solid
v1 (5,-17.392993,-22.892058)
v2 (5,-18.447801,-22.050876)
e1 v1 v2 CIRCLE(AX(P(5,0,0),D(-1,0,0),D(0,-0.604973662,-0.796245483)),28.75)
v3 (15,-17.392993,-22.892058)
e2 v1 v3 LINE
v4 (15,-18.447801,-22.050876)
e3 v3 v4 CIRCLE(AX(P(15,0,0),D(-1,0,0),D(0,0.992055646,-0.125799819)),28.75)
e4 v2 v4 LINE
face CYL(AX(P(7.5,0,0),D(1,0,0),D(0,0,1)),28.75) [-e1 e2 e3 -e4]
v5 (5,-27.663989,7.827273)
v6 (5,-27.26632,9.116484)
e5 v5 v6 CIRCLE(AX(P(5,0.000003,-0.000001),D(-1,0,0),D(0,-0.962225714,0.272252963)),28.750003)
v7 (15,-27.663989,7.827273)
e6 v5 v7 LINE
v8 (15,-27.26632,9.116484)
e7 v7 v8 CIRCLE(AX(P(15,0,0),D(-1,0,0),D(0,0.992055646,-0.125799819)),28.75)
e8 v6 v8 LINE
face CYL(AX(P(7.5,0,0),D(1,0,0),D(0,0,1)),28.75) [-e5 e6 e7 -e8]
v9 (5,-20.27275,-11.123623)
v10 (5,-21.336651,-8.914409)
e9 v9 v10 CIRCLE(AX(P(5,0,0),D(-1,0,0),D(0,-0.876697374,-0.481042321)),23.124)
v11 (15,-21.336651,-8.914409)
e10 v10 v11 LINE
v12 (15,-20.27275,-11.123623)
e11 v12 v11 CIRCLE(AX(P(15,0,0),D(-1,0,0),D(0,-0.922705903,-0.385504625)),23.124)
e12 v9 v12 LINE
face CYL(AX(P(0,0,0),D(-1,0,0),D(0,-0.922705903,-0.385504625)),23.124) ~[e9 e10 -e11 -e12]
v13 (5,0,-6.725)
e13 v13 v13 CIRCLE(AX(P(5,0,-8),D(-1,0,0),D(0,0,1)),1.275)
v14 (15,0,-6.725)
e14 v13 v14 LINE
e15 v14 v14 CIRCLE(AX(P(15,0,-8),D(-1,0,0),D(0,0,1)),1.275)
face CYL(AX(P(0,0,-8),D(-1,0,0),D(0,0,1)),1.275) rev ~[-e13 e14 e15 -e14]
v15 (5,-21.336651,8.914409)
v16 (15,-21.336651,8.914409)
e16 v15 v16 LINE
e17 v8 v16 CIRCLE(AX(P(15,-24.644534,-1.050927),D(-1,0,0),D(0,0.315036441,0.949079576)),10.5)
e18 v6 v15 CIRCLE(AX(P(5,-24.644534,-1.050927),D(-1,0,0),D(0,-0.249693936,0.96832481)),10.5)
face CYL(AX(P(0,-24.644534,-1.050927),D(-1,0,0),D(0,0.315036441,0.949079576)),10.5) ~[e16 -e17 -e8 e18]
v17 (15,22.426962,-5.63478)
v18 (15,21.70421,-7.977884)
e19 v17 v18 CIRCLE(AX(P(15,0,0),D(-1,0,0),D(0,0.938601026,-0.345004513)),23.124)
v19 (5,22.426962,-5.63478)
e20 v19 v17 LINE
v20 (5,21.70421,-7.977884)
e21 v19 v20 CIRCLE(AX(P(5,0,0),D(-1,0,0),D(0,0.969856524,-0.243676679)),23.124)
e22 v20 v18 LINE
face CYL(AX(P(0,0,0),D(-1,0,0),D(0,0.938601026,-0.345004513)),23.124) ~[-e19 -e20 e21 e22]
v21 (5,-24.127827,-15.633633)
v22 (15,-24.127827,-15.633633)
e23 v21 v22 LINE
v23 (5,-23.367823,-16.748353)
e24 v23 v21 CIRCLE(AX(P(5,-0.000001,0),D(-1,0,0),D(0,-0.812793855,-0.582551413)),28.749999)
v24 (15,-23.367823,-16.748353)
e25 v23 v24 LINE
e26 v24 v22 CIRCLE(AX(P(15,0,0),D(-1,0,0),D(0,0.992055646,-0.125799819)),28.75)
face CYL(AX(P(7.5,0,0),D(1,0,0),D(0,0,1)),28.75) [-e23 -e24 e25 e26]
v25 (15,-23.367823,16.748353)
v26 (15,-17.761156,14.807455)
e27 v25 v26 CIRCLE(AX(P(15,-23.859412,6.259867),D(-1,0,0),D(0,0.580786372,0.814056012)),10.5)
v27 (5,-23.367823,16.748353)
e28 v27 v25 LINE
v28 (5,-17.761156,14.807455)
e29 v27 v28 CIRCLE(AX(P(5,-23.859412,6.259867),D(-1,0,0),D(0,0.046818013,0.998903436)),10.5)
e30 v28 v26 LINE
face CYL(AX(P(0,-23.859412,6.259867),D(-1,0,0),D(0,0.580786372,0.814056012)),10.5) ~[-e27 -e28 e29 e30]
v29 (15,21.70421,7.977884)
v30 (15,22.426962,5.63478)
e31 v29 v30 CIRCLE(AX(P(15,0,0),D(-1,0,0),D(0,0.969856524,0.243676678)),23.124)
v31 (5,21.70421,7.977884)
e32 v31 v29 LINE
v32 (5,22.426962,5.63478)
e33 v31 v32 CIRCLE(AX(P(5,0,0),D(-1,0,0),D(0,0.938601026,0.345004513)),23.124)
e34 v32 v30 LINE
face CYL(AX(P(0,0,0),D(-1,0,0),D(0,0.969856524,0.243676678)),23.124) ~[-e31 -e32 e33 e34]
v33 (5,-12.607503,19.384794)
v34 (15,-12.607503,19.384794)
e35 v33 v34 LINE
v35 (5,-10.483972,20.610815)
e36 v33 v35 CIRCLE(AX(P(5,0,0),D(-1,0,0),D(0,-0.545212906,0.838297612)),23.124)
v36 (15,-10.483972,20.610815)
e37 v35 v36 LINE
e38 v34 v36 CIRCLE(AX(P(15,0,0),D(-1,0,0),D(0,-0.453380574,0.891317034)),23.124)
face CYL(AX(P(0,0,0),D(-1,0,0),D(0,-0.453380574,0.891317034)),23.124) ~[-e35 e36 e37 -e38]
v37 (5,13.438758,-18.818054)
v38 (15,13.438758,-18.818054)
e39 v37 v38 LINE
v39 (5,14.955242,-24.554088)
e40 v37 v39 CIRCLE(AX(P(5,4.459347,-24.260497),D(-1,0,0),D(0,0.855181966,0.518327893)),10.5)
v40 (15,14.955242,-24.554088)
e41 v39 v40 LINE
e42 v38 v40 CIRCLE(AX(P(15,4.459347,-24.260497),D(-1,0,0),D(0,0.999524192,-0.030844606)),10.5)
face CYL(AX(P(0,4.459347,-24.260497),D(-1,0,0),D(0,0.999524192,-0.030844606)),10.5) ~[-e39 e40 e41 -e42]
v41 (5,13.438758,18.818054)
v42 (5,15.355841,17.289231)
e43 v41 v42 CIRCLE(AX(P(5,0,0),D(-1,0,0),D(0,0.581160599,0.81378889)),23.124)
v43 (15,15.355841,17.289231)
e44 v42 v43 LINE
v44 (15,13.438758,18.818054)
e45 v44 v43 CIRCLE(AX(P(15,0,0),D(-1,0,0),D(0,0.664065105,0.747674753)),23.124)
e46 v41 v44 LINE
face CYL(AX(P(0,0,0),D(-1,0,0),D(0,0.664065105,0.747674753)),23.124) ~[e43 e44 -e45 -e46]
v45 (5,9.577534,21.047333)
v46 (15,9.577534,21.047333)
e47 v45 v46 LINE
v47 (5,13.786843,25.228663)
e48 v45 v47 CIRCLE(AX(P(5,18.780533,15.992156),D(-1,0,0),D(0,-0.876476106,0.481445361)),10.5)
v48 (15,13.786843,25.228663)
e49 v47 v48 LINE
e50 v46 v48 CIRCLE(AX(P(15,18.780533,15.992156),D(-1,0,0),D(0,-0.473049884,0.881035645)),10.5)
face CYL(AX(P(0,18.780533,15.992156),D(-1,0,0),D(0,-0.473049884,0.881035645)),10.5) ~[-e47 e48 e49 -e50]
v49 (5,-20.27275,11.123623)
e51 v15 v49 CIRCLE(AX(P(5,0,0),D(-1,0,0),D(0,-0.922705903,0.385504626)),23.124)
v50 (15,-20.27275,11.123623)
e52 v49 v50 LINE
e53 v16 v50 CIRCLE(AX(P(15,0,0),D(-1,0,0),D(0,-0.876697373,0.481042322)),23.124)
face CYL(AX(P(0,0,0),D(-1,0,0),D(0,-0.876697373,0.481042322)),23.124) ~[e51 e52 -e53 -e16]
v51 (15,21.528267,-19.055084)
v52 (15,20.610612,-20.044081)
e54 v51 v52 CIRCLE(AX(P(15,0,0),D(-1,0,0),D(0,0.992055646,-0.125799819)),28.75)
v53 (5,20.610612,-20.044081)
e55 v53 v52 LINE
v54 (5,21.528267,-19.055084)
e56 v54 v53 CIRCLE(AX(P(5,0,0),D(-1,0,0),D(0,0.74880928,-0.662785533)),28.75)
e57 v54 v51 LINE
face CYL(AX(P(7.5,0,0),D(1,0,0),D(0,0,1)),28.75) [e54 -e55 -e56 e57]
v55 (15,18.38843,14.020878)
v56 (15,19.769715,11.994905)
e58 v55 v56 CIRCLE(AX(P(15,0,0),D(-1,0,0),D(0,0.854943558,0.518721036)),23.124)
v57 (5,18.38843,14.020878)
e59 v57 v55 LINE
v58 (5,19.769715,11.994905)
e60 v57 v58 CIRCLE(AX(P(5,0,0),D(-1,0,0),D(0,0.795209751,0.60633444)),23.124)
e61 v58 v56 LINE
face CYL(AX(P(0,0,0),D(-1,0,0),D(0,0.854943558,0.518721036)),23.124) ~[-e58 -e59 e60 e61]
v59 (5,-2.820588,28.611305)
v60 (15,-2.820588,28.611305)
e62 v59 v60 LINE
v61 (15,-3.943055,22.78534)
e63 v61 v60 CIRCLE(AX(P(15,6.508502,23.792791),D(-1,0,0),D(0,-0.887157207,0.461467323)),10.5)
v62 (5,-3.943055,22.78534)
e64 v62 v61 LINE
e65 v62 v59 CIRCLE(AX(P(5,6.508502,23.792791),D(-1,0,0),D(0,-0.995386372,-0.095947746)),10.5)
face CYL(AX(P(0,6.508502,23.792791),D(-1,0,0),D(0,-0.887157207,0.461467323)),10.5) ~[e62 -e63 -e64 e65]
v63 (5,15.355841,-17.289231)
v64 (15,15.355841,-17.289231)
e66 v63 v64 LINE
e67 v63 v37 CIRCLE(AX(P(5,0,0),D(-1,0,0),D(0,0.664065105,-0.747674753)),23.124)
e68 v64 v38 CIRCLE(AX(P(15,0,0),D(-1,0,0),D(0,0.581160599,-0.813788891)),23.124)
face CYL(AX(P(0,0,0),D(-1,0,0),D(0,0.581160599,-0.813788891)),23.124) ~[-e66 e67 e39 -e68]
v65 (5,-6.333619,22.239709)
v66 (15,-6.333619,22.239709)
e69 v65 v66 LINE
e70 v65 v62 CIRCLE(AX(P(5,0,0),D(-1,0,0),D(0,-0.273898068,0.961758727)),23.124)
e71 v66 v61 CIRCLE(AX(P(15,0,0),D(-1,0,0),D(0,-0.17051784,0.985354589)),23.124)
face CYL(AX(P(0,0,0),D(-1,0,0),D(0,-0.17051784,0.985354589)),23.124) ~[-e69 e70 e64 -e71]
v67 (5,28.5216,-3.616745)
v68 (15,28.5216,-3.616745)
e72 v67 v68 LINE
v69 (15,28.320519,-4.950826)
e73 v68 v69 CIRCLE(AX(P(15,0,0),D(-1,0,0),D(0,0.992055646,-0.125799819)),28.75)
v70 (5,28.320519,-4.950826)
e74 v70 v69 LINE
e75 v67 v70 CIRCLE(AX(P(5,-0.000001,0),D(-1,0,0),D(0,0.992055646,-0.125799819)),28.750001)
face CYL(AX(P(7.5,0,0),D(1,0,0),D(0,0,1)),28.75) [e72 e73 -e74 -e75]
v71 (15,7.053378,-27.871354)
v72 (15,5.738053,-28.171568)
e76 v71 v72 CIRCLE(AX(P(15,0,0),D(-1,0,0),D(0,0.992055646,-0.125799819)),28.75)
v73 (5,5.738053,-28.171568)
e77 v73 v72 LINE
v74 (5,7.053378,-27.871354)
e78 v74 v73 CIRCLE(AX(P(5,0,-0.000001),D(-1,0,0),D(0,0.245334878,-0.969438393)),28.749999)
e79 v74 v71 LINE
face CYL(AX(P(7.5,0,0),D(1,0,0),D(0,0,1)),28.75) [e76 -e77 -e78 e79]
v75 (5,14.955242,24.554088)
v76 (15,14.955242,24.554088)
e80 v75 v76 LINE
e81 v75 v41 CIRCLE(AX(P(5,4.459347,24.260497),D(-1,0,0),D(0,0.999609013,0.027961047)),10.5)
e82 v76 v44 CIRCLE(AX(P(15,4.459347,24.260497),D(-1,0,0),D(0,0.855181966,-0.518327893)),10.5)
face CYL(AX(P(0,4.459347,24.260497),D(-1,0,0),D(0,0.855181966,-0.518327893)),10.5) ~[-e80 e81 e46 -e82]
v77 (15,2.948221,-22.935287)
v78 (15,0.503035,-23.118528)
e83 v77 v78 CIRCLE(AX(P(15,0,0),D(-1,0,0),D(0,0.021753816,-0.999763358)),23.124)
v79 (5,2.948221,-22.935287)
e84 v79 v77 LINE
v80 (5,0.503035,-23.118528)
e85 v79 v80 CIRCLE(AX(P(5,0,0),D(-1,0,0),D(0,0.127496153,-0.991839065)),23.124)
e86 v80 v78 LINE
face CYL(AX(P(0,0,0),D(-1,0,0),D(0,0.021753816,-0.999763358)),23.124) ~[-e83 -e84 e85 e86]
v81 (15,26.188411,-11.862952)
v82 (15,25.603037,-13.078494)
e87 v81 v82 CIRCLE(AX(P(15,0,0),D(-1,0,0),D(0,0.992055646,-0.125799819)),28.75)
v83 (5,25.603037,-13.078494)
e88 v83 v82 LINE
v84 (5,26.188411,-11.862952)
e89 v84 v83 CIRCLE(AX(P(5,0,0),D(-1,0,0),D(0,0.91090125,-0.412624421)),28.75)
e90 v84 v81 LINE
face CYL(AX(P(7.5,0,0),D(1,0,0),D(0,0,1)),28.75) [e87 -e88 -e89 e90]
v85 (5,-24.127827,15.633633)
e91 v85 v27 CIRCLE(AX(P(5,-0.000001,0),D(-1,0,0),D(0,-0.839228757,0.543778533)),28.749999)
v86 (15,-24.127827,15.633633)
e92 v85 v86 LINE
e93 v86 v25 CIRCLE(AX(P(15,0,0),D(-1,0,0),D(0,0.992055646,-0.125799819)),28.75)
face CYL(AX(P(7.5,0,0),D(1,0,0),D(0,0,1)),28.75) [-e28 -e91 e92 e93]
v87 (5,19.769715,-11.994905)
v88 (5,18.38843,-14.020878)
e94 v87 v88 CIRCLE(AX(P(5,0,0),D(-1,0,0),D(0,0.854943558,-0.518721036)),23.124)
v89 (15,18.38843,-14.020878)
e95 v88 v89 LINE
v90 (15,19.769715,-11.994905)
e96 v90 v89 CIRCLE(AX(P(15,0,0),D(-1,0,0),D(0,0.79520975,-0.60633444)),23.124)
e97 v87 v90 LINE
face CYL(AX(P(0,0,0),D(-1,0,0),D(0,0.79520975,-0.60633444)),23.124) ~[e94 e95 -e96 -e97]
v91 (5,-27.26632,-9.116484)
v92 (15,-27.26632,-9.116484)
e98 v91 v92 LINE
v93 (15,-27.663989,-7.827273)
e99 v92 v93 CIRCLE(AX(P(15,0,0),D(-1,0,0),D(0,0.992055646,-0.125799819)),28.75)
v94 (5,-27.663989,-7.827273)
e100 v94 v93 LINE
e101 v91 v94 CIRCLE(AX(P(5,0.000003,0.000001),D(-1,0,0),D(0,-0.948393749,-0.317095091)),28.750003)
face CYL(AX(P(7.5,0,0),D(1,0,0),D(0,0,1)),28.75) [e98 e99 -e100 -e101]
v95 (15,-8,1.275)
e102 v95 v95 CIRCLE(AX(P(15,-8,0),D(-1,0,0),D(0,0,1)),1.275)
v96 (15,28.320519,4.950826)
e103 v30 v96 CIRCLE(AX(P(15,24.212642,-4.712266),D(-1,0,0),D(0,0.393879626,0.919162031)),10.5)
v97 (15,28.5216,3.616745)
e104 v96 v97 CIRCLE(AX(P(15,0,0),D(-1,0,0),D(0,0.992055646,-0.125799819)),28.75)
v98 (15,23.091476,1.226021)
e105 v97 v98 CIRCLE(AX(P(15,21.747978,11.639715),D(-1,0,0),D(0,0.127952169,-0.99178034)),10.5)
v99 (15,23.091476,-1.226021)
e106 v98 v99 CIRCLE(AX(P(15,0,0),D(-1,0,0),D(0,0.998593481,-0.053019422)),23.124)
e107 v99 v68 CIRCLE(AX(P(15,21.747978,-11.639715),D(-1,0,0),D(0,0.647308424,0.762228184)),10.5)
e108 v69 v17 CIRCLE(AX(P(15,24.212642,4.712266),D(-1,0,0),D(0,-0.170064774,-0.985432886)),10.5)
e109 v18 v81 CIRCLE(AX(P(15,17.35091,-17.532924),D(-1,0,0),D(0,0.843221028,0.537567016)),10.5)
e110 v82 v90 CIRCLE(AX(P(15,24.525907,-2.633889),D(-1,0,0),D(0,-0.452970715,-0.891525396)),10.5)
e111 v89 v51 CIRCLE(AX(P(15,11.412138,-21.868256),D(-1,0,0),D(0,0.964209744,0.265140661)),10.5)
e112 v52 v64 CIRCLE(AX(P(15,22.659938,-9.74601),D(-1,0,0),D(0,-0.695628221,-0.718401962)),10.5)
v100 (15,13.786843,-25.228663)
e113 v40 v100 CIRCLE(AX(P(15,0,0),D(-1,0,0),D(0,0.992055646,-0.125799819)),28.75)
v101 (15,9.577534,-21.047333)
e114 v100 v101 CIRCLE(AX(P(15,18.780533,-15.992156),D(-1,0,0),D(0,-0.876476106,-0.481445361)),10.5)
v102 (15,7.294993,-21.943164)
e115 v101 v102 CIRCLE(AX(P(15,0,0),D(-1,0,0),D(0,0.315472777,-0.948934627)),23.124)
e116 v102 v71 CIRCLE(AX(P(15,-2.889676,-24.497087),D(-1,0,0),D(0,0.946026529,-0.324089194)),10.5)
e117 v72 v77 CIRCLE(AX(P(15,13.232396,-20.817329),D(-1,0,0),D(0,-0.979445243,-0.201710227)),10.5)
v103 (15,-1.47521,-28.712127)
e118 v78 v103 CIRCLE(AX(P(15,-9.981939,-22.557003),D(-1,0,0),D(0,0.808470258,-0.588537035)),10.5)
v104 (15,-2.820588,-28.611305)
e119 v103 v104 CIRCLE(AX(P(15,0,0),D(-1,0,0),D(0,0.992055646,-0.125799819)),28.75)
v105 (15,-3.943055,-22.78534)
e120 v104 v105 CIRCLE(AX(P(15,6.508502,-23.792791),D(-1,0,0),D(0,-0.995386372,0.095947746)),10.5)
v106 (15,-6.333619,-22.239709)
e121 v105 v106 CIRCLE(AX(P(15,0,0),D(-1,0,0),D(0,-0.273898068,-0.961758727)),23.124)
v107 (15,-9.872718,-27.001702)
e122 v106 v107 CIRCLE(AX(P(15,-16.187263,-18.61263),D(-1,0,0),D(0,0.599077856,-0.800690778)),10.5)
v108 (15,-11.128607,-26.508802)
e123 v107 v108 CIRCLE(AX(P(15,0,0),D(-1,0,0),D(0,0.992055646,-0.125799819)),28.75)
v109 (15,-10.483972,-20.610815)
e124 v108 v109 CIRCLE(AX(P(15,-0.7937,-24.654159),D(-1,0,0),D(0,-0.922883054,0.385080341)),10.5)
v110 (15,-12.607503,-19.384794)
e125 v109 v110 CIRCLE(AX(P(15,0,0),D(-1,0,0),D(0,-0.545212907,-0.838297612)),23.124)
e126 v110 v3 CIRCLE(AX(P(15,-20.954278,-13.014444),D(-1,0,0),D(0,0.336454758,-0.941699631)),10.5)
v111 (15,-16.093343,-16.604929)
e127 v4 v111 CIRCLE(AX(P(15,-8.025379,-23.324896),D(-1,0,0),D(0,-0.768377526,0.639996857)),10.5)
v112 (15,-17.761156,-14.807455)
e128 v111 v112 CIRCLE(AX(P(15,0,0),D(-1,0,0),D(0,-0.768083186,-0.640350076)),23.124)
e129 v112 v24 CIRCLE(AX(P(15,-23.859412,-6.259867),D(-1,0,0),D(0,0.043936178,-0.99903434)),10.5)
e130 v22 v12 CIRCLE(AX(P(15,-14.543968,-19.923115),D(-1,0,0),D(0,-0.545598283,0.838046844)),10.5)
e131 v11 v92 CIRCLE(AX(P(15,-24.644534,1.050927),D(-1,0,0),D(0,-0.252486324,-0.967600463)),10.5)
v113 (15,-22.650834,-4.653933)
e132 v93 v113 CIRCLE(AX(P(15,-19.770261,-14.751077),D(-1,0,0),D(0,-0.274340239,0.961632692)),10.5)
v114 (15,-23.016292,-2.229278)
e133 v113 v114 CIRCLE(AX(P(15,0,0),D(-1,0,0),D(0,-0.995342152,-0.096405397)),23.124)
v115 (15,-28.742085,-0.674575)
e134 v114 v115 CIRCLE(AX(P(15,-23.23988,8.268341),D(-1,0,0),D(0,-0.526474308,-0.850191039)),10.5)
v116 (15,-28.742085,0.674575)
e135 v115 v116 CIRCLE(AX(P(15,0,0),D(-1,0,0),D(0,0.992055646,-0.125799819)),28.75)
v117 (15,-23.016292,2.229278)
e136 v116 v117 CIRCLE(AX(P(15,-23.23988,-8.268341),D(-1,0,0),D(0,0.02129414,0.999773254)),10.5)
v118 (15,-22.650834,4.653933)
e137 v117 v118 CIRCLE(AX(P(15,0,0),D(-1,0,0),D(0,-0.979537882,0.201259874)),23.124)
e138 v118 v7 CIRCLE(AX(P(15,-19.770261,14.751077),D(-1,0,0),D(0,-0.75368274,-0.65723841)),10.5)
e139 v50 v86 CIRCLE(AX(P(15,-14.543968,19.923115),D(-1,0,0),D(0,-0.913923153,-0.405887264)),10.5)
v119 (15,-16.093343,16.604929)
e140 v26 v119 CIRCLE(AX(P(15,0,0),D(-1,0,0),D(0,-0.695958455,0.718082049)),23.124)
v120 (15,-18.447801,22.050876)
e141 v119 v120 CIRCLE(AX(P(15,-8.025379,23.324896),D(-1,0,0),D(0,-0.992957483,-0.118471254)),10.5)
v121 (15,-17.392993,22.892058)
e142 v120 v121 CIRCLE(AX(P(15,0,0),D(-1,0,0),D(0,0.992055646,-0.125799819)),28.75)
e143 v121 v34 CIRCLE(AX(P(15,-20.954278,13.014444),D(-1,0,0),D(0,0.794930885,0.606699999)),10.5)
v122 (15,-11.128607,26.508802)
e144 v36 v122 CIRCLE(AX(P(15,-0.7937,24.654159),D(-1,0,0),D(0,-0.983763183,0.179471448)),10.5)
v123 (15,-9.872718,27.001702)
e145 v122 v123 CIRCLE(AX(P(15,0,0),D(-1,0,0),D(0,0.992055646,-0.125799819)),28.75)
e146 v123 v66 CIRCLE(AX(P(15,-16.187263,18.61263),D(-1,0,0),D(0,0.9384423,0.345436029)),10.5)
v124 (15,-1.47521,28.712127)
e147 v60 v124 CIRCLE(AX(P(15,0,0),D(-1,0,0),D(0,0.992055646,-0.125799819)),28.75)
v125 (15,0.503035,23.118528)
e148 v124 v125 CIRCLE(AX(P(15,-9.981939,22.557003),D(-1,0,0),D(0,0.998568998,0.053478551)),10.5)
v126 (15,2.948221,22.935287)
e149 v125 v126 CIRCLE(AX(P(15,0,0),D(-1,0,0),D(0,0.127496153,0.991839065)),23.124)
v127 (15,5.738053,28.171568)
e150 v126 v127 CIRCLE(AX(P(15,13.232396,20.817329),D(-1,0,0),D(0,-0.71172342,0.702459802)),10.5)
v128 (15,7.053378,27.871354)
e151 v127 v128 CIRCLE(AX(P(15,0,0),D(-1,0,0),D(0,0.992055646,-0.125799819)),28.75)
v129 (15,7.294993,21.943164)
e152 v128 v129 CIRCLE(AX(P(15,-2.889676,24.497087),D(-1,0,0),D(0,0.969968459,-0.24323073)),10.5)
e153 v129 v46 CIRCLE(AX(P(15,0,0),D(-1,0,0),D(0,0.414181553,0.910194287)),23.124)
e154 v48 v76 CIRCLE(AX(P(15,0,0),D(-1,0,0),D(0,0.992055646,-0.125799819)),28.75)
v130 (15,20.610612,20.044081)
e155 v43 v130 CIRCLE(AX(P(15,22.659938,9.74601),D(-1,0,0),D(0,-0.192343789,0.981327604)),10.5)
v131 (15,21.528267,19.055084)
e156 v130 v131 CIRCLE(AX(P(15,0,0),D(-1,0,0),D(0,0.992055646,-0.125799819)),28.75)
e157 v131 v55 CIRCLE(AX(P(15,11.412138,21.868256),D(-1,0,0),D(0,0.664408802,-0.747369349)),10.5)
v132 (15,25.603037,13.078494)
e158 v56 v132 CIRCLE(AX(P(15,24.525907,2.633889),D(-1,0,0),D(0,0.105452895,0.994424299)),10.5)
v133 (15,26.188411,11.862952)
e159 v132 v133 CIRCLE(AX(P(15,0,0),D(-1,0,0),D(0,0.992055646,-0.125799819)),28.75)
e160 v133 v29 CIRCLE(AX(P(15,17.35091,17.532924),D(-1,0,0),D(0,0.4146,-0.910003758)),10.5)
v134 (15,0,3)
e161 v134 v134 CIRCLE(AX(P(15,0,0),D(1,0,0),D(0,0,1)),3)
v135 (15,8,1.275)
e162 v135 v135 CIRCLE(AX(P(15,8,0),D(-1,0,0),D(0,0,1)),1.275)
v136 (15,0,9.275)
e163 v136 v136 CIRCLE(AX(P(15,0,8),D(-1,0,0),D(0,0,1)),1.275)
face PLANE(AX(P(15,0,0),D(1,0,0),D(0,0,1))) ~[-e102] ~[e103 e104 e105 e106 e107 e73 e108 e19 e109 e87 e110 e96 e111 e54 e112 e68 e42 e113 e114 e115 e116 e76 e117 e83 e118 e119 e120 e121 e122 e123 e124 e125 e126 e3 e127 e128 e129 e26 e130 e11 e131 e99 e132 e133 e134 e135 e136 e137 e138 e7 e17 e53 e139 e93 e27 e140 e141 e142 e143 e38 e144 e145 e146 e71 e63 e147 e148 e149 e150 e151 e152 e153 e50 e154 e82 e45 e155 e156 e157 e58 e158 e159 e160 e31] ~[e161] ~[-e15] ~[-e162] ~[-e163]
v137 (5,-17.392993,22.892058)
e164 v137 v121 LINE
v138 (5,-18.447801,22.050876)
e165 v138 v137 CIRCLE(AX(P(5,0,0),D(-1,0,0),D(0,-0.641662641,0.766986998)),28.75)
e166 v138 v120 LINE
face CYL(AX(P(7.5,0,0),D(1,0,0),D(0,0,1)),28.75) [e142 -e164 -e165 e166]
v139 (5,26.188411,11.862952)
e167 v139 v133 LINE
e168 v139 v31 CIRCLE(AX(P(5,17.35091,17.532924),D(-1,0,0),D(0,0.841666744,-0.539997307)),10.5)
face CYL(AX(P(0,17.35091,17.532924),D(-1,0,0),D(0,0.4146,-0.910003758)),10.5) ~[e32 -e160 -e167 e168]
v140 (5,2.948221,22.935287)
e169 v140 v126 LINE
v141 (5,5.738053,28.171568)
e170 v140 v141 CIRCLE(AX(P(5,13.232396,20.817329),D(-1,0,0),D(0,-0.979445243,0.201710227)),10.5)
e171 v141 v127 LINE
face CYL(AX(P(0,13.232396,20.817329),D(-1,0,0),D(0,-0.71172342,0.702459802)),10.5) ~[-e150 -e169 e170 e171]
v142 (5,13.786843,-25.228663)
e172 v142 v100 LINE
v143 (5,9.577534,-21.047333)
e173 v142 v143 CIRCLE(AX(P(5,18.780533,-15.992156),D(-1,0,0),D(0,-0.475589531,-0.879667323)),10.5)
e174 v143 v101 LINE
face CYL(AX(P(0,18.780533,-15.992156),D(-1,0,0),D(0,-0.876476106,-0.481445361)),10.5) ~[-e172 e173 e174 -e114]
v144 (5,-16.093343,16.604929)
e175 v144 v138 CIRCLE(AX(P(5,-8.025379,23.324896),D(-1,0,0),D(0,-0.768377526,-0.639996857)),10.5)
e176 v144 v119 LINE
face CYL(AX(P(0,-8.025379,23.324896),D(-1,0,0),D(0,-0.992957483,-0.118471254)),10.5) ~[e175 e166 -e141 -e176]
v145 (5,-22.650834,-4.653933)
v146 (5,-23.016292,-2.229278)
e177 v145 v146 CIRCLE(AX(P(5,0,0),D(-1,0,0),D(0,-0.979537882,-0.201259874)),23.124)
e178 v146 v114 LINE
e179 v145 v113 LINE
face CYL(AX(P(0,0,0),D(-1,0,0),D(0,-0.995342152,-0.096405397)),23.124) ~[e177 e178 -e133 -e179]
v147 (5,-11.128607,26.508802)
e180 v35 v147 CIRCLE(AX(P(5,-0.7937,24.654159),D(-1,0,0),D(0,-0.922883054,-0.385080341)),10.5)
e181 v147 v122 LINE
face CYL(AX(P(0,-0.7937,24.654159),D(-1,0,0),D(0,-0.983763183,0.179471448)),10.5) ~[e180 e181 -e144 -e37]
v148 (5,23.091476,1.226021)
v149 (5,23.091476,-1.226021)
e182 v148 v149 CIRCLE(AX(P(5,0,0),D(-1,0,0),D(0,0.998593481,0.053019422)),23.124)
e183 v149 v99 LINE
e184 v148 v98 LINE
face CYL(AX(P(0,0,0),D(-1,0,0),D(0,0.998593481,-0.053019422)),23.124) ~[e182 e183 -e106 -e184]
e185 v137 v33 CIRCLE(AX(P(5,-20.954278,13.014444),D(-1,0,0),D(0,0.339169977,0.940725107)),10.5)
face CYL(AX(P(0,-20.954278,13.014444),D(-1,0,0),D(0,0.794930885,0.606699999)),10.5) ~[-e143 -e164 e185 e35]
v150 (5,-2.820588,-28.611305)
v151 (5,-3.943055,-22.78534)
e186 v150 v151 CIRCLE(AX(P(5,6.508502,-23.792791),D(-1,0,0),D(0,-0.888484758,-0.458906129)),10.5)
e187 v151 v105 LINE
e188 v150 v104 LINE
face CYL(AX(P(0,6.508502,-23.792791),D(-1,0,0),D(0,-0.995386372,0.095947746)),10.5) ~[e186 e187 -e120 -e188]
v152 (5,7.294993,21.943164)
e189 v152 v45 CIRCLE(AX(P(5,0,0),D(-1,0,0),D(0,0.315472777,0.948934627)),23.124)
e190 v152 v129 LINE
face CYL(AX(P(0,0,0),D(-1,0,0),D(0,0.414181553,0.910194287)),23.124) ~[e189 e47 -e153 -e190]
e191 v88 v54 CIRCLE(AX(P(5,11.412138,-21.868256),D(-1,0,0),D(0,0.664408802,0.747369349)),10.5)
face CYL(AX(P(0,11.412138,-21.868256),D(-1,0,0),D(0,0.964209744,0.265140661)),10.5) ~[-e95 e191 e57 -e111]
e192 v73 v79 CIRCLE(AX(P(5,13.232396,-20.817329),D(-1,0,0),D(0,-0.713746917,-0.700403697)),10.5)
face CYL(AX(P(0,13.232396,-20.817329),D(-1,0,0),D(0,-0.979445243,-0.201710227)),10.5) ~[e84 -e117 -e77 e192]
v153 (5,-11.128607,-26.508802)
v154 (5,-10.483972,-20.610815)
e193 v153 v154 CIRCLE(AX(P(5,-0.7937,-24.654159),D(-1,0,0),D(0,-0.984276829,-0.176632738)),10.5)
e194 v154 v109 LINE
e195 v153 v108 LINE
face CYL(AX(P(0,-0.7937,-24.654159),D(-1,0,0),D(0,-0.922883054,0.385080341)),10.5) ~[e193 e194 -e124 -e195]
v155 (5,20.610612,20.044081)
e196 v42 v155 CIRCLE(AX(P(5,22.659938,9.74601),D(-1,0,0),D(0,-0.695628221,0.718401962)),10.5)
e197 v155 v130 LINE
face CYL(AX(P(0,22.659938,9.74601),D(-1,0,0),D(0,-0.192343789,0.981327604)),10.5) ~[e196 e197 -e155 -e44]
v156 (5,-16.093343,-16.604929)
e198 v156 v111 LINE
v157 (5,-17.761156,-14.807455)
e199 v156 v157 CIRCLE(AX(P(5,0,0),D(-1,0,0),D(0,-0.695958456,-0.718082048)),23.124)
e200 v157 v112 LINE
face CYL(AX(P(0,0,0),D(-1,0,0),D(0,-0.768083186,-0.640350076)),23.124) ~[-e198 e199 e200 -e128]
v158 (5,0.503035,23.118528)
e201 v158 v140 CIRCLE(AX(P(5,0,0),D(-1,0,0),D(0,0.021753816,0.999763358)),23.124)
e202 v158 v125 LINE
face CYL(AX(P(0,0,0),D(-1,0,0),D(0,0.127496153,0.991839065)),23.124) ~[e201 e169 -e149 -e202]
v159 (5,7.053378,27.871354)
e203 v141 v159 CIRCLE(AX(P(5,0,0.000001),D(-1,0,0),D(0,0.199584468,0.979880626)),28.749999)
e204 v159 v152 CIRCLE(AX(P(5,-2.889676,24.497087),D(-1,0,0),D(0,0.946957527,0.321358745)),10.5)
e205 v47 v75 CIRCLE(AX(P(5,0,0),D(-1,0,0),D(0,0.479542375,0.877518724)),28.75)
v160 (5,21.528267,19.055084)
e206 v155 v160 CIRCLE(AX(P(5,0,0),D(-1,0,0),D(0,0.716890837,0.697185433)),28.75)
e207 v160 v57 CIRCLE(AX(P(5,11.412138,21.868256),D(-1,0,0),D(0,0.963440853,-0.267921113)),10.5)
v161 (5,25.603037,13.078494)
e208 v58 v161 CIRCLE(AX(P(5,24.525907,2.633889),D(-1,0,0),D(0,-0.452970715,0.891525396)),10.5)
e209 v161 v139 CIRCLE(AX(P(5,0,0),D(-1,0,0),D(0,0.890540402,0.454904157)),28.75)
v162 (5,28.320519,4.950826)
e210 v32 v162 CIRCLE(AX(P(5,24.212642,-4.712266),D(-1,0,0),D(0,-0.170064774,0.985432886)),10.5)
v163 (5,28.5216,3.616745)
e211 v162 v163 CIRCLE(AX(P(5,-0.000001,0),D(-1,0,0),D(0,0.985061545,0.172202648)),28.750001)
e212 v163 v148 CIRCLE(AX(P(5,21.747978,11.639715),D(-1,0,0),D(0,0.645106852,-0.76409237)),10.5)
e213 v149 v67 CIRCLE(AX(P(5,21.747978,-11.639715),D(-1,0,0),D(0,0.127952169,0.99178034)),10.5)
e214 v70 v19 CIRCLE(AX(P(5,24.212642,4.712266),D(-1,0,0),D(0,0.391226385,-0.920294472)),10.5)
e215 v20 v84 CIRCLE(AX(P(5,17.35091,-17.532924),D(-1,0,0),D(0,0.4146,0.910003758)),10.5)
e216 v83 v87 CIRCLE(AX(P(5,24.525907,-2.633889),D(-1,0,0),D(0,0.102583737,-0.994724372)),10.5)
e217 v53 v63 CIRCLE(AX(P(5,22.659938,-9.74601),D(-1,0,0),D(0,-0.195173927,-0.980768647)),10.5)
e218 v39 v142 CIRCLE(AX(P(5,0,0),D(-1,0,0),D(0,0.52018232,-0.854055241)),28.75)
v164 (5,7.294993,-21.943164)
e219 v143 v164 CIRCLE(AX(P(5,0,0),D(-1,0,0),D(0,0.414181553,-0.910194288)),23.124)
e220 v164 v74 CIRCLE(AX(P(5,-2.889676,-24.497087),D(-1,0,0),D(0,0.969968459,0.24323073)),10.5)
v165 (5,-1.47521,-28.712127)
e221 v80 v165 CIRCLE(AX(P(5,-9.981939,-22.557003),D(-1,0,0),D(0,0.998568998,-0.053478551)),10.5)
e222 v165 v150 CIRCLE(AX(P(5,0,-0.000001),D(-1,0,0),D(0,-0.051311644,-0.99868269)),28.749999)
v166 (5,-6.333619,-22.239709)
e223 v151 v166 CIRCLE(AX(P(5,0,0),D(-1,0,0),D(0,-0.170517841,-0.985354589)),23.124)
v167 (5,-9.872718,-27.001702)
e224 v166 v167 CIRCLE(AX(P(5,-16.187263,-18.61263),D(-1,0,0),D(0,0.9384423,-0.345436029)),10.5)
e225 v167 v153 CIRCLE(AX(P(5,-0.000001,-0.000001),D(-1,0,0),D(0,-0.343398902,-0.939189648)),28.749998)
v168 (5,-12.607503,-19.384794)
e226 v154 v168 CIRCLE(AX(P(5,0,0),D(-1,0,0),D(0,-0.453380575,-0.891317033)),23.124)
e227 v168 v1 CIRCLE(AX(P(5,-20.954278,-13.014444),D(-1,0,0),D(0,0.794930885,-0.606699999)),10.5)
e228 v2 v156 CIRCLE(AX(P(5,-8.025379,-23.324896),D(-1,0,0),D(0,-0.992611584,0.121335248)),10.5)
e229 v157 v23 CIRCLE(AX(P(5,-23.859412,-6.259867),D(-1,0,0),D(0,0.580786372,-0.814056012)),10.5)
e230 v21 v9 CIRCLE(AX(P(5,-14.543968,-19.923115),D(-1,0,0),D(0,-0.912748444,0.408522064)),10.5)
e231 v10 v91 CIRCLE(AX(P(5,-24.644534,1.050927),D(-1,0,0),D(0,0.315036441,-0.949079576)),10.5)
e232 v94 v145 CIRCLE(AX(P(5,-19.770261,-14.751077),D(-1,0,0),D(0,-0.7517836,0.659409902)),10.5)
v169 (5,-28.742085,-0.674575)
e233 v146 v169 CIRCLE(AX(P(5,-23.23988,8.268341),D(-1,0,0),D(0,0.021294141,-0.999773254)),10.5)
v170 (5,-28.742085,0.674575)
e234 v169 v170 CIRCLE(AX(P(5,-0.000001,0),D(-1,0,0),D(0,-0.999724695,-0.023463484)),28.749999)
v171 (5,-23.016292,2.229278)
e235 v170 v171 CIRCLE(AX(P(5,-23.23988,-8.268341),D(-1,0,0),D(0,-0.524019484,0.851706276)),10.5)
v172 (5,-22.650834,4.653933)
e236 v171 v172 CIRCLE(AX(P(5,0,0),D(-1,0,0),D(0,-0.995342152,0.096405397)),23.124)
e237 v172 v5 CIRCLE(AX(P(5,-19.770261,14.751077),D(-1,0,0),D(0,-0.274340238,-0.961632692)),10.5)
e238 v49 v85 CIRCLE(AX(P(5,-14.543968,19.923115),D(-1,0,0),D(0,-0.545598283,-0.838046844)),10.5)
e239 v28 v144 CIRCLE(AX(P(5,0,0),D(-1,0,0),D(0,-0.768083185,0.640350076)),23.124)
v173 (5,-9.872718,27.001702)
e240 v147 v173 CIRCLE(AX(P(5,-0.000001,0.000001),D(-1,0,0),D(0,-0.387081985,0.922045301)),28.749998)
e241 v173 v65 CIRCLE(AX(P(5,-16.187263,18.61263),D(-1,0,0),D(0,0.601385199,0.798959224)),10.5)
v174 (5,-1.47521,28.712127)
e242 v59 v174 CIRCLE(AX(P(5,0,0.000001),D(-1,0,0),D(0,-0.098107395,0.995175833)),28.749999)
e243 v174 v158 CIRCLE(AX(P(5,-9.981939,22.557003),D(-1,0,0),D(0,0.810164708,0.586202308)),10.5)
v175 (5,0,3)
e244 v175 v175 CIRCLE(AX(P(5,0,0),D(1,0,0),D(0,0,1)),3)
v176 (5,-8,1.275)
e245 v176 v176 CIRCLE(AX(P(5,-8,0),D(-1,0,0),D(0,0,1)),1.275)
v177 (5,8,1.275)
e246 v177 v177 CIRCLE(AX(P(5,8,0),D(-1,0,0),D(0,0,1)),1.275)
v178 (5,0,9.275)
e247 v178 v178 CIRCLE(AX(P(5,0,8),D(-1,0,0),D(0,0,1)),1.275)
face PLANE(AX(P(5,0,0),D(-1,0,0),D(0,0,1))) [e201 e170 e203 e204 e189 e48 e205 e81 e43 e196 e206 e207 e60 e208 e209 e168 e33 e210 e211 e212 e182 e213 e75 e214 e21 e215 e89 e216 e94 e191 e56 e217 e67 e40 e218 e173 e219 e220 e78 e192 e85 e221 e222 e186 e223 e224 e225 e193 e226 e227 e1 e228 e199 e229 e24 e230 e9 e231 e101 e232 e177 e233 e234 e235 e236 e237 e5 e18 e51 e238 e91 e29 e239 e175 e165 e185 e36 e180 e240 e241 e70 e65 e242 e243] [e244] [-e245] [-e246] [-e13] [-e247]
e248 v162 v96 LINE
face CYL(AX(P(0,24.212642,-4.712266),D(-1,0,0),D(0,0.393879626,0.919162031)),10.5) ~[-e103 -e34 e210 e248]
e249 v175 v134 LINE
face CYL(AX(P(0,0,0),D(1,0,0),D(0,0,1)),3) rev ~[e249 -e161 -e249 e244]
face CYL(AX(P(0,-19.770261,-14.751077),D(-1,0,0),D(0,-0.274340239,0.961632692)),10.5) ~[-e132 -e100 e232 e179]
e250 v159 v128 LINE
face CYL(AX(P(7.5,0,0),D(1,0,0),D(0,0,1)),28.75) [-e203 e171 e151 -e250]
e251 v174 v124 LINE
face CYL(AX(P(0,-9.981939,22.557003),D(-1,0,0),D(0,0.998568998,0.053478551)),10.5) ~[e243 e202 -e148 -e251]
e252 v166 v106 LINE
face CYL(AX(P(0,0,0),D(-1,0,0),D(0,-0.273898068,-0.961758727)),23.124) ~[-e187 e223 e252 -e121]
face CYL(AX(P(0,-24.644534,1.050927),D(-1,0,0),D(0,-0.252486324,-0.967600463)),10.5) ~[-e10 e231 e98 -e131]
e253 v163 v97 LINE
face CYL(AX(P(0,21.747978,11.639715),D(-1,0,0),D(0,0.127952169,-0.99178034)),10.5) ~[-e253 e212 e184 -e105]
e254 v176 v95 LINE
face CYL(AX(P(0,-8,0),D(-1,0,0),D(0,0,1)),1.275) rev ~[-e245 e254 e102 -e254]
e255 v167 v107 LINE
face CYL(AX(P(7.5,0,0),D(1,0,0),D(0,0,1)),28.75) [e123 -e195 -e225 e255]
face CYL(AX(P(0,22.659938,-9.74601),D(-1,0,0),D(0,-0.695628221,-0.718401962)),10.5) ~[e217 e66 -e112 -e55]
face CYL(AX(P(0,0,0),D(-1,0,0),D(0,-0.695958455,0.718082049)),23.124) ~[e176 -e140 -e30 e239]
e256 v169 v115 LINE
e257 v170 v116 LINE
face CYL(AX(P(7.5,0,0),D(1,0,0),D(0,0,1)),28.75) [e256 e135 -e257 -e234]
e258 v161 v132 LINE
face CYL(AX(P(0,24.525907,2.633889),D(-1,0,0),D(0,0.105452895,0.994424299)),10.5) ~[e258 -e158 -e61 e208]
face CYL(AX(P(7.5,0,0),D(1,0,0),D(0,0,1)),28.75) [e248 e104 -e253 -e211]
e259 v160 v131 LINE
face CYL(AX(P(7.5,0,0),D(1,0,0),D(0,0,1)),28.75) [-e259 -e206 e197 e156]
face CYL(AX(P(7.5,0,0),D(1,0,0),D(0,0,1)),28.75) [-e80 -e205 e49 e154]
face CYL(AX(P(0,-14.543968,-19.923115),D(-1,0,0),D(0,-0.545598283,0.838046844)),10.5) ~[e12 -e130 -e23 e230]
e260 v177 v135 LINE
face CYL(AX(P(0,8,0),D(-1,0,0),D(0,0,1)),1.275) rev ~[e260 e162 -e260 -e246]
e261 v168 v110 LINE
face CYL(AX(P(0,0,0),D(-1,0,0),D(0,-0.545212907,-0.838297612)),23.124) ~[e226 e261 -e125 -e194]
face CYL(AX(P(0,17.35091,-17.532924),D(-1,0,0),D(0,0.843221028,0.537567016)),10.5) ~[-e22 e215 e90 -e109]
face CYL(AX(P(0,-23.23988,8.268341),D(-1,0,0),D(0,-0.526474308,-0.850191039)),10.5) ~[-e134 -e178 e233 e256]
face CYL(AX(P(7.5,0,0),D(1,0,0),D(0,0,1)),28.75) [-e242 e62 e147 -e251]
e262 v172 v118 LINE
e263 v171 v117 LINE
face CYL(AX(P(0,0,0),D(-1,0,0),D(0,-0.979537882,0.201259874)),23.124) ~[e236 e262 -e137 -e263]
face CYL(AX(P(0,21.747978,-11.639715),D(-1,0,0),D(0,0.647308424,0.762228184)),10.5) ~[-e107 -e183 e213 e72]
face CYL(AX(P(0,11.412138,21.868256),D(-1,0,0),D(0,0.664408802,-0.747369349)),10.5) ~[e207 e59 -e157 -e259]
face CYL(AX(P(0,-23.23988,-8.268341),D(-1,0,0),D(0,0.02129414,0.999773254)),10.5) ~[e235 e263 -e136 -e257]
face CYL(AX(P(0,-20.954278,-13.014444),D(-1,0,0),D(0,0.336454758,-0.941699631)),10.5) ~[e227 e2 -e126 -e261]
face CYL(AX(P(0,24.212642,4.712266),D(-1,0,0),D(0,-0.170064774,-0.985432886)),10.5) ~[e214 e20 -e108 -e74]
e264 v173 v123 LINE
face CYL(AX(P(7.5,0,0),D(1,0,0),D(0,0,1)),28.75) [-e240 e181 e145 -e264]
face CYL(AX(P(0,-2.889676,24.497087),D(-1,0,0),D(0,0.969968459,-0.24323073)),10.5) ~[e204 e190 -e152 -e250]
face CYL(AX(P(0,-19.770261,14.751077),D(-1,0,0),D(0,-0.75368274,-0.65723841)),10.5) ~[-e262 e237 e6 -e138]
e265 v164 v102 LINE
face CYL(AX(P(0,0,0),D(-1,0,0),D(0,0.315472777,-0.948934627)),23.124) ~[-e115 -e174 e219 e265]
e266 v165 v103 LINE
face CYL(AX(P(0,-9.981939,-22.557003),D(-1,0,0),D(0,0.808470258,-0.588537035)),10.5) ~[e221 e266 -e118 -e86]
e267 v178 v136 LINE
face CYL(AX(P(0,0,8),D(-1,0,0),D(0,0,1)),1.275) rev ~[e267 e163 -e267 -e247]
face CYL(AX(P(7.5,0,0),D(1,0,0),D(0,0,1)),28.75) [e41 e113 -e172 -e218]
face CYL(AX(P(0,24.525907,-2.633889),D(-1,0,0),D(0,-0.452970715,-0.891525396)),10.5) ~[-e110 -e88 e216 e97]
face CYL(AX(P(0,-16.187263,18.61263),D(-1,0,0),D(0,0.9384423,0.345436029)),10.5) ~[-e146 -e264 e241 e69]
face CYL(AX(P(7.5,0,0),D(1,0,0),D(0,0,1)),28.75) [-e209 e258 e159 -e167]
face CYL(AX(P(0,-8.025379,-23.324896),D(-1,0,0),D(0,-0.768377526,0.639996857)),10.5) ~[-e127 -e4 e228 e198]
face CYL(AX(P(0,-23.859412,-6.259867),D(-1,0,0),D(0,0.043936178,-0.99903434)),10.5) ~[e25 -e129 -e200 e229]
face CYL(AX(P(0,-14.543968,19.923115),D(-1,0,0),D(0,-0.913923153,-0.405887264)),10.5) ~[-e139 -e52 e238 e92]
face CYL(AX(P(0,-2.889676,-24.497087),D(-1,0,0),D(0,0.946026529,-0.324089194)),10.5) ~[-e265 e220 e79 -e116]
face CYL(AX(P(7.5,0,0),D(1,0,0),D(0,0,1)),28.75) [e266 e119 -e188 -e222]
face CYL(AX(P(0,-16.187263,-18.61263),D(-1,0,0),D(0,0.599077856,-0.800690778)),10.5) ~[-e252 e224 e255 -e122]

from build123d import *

# Parameters (mm, degrees)
BASPROSKE_W              = 15
BASPROSKE_H              = 28.75
TOOTHCUT_DEPTH           = 44.337339558
TEETHCUTS_COUNT          = 21
TEETHCUTS_ANGLE          = 342.857142857
HUBNEAONESKE_R           = 12
HUBNEARONE_DEPTH         = 35.0000508
BORSKE_R                 = 3
BORE_DEPTH               = 15.0000508
CUT_EXTRUDE_1_DEPTH      = 54.627906094
CUT_EXTRUDE_1_DEPTH_BACK = 54.627906094
SKETCH_2_R               = 1.275
CUT_EXTRUDE_2_DEPTH      = 44.312224095
CUT_EXTRUDE_3_DEPTH      = 5


with BuildPart() as part:
    # BasProSke → Base-Revolve (revolve)
    with BuildSketch(Plane(origin=(0, 0, 0), x_dir=(1, 0, 0), z_dir=(0, 1, 0)), mode=Mode.PRIVATE) as base_revolve_sk:
        with Locations((7.5, 14.375)):
            Rectangle(BASPROSKE_W, BASPROSKE_H)
    revolve(base_revolve_sk.sketch.rotate(Axis((-10, 0, 0), (1, 0, 0)), 180), axis=Axis((-10, 0, 0), (1, 0, 0)))

    # TooCutSke → ToothCut (cut, through all)
    with BuildSketch(Plane(origin=(0, 0, 0), x_dir=(0, 0, -1), z_dir=(1, 0, 0))):
        with BuildLine():
            ThreePointArc((1.226021101, 23.091475662), (0, 23.124), (-1.226021101, 23.091475662))
            ThreePointArc((-1.226021101, 23.091475662), (-2.035978165, 25.992768242), (-3.636318743, 28.544716344))
            ThreePointArc((-3.636318743, 28.544716344), (0, 28.7754), (3.636318743, 28.544716344))
            ThreePointArc((3.636318743, 28.544716344), (2.035978165, 25.992768242), (1.226021101, 23.091475662))
        make_face()
    toothcut = extrude(amount=TOOTHCUT_DEPTH, mode=Mode.SUBTRACT)

    # TeethCuts: ToothCut ×21 about axis
    teethcuts_axis = Axis((-10, 0, 0), (1, 0, 0))
    for i in range(1, TEETHCUTS_COUNT):
        add(toothcut.rotate(teethcuts_axis, i * TEETHCUTS_ANGLE / (TEETHCUTS_COUNT - 1)), mode=Mode.SUBTRACT)

    # HubNeaOneSke → HubNearOne (add)
    with BuildSketch(Plane.ZY):
        with Locations(Location((0, 0, 0), (0, 0, 180))):
            Circle(HUBNEAONESKE_R)
    extrude(amount=HUBNEARONE_DEPTH)

    # BorSke → Bore (cut, symmetric)
    with BuildSketch(Plane(origin=(0, 0, 0), x_dir=(0, 0, -1), z_dir=(1, 0, 0))):
        with Locations(Location((0, 0, 0), (0, 0, 180))):
            Circle(BORSKE_R)
    extrude(amount=BORE_DEPTH, both=True, mode=Mode.SUBTRACT)

    # 草圖1 → 除料-伸長1 (cut, two sides: drawn at the far end of the back side and taken through both)
    with BuildSketch(Plane(origin=(0, 0, 0), x_dir=(1, 0, 0), z_dir=(0, 1, 0)).offset(-CUT_EXTRUDE_1_DEPTH_BACK)):
        Polygon((-35.0000508, -11.862952099), (-35.0000508, -15.448809423), (0, -15.448809423), (0, -11.862952099), (0, 12), (-35.0000508, 12), align=None)
    extrude(amount=CUT_EXTRUDE_1_DEPTH + CUT_EXTRUDE_1_DEPTH_BACK, mode=Mode.SUBTRACT)

    # 草圖2 → 除料-伸長2 (cut, through all)
    with BuildSketch(Plane.ZY):
        with Locations((0, 8)):
            Circle(SKETCH_2_R)
        with Locations((8, 0)):
            Circle(SKETCH_2_R)
        with Locations((0, -8)):
            Circle(SKETCH_2_R)
        with Locations((-8, 0)):
            Circle(SKETCH_2_R)
    extrude(amount=-CUT_EXTRUDE_2_DEPTH, mode=Mode.SUBTRACT)

    # 草圖3 → 除料-伸長3 (cut)
    with BuildSketch(Plane.ZY):
        with BuildLine():
            ThreePointArc((15.633632839, -24.127826762), (16.195451669, -23.754364762), (16.748353108, -23.367823351))
            ThreePointArc((16.748353108, -23.367823351), (16.182150595, -20.424548747), (14.807455158, -17.761155586))
            ThreePointArc((14.807455158, -17.761155586), (15.728314388, -16.951091484), (16.604929283, -16.093343329))
            ThreePointArc((16.604929283, -16.093343329), (19.158143938, -17.66323046), (22.050876182, -18.447800942))
            ThreePointArc((22.050876182, -18.447800942), (22.477655121, -17.925331803), (22.892057619, -17.392992783))
            ThreePointArc((22.892057619, -17.392992783), (21.483464476, -14.747370732), (19.384793984, -12.60750325))
            ThreePointArc((19.384793984, -12.60750325), (20.025971437, -11.562), (20.610815085, -10.483972412))
            ThreePointArc((20.610815085, -10.483972412), (23.513329931, -11.231540632), (26.508802408, -11.128607052))
            ThreePointArc((26.508802408, -11.128607052), (26.762620274, -10.503554451), (27.001702351, -9.872718478))
            ThreePointArc((27.001702351, -9.872718478), (24.87587826, -7.75982411), (22.239708796, -6.333618923))
            ThreePointArc((22.239708796, -6.333618923), (22.544233041, -5.145574077), (22.785339517, -3.943054539))
            ThreePointArc((22.785339517, -3.943054539), (25.779253374, -3.80187913), (28.611305207, -2.820587588))
            ThreePointArc((28.611305207, -2.820587588), (28.669609169, -2.148490191), (28.712127333, -1.475209811))
            ThreePointArc((28.712127333, -1.475209811), (26.057961094, -0.082783062), (23.118527885, 0.50303524))
            ThreePointArc((23.118527885, 0.50303524), (23.059340606, 1.728058684), (22.935286541, 2.948221034))
            ThreePointArc((22.935286541, 2.948221034), (25.754577023, 3.965596017), (28.17156798, 5.738053461))
            ThreePointArc((28.17156798, 5.738053461), (28.029177475, 6.397476851), (27.871353801, 7.053377721))
            ThreePointArc((27.871353801, 7.053377721), (24.924679732, 7.601613624), (21.943164316, 7.294992515))
            ThreePointArc((21.943164316, 7.294992515), (21.525524564, 8.448145847), (21.047332707, 9.57753423))
            ThreePointArc((21.047332707, 9.57753423), (23.441493482, 11.380710555), (25.22866331, 13.786843279))
            ThreePointArc((25.22866331, 13.786843279), (24.898230359, 14.375), (24.554088173, 14.95524169))
            ThreePointArc((24.554088173, 14.95524169), (21.576731195, 14.610573581), (18.818054303, 13.438757691))
            ThreePointArc((18.818054303, 13.438757691), (18.079071201, 14.417578178), (17.289230996, 15.35584148))
            ThreePointArc((17.289230996, 15.35584148), (19.045530374, 17.784599017), (20.04408119, 20.610611569))
            ThreePointArc((20.04408119, 20.610611569), (19.554966211, 21.075241315), (19.055084056, 21.528266805))
            ThreePointArc((19.055084056, 21.528266805), (16.311595404, 20.321319958), (14.020877582, 18.388430271))
            ThreePointArc((14.020877582, 18.388430271), (13.026213023, 19.105945417), (11.994905239, 19.769714826))
            ThreePointArc((11.994905239, 19.769714826), (12.957288312, 22.608247809), (13.078494494, 25.603036573))
            ThreePointArc((13.078494494, 25.603036573), (12.4741575, 25.902854952), (11.862952099, 26.188410939))
            ThreePointArc((11.862952099, 26.188410939), (9.597102778, 24.226427877), (7.977884359, 21.704210125))
            ThreePointArc((7.977884359, 21.704210125), (6.815918653, 22.096665561), (5.634779513, 22.426962252))
            ThreePointArc((5.634779513, 22.426962252), (5.717734322, 25.42305457), (4.950826169, 28.320519421))
            ThreePointArc((4.950826169, 28.320519421), (4.284965153, 28.428886254), (3.616744788, 28.521599835))
            ThreePointArc((3.616744788, 28.521599835), (2.029865455, 25.978911364), (1.226021101, 23.091475662))
            ThreePointArc((1.226021101, 23.091475662), (0, 23.124), (-1.226021101, 23.091475662))
            ThreePointArc((-1.226021101, 23.091475662), (-2.029865455, 25.978911364), (-3.616744788, 28.521599835))
            ThreePointArc((-3.616744788, 28.521599835), (-4.284965153, 28.428886254), (-4.950826169, 28.320519421))
            ThreePointArc((-4.950826169, 28.320519421), (-5.717734322, 25.42305457), (-5.634779513, 22.426962252))
            ThreePointArc((-5.634779513, 22.426962252), (-6.815918653, 22.096665561), (-7.977884359, 21.704210125))
            ThreePointArc((-7.977884359, 21.704210125), (-9.597102778, 24.226427877), (-11.862952099, 26.188410939))
            ThreePointArc((-11.862952099, 26.188410939), (-12.4741575, 25.902854952), (-13.078494494, 25.603036573))
            ThreePointArc((-13.078494494, 25.603036573), (-12.957288312, 22.608247809), (-11.994905239, 19.769714826))
            ThreePointArc((-11.994905239, 19.769714826), (-13.026213023, 19.105945417), (-14.020877582, 18.388430271))
            ThreePointArc((-14.020877582, 18.388430271), (-16.311595404, 20.321319958), (-19.055084056, 21.528266805))
            ThreePointArc((-19.055084056, 21.528266805), (-19.554966211, 21.075241315), (-20.04408119, 20.610611569))
            ThreePointArc((-20.04408119, 20.610611569), (-19.045530374, 17.784599017), (-17.289230996, 15.35584148))
            ThreePointArc((-17.289230996, 15.35584148), (-18.079071201, 14.417578178), (-18.818054303, 13.438757691))
            ThreePointArc((-18.818054303, 13.438757691), (-21.576731195, 14.610573581), (-24.554088173, 14.95524169))
            ThreePointArc((-24.554088173, 14.95524169), (-24.898230359, 14.375), (-25.22866331, 13.786843279))
            ThreePointArc((-25.22866331, 13.786843279), (-23.441493482, 11.380710555), (-21.047332707, 9.57753423))
            ThreePointArc((-21.047332707, 9.57753423), (-21.525524564, 8.448145847), (-21.943164316, 7.294992515))
            ThreePointArc((-21.943164316, 7.294992515), (-24.924679732, 7.601613624), (-27.871353801, 7.053377721))
            ThreePointArc((-27.871353801, 7.053377721), (-28.029177475, 6.397476851), (-28.17156798, 5.738053461))
            ThreePointArc((-28.17156798, 5.738053461), (-25.754577023, 3.965596017), (-22.935286541, 2.948221034))
            ThreePointArc((-22.935286541, 2.948221034), (-23.059340606, 1.728058684), (-23.118527885, 0.50303524))
            ThreePointArc((-23.118527885, 0.50303524), (-26.057961094, -0.082783062), (-28.712127333, -1.475209811))
            ThreePointArc((-28.712127333, -1.475209811), (-28.669609169, -2.148490191), (-28.611305207, -2.820587588))
            ThreePointArc((-28.611305207, -2.820587588), (-25.779253374, -3.80187913), (-22.785339517, -3.943054539))
            ThreePointArc((-22.785339517, -3.943054539), (-22.544233041, -5.145574077), (-22.239708796, -6.333618923))
            ThreePointArc((-22.239708796, -6.333618923), (-24.87587826, -7.75982411), (-27.001702351, -9.872718478))
            ThreePointArc((-27.001702351, -9.872718478), (-26.762620274, -10.503554451), (-26.508802408, -11.128607052))
            ThreePointArc((-26.508802408, -11.128607052), (-23.513329931, -11.231540632), (-20.610815085, -10.483972412))
            ThreePointArc((-20.610815085, -10.483972412), (-20.025971437, -11.562), (-19.384793984, -12.60750325))
            ThreePointArc((-19.384793984, -12.60750325), (-21.483464476, -14.747370732), (-22.892057619, -17.392992783))
            ThreePointArc((-22.892057619, -17.392992783), (-22.477655121, -17.925331803), (-22.050876182, -18.447800942))
            ThreePointArc((-22.050876182, -18.447800942), (-19.158143938, -17.66323046), (-16.604929283, -16.093343329))
            ThreePointArc((-16.604929283, -16.093343329), (-15.728314388, -16.951091484), (-14.807455158, -17.761155586))
            ThreePointArc((-14.807455158, -17.761155586), (-16.182150595, -20.424548747), (-16.748353108, -23.367823351))
            ThreePointArc((-16.748353108, -23.367823351), (-16.195451669, -23.754364762), (-15.633632839, -24.127826762))
            ThreePointArc((-15.633632839, -24.127826762), (-13.100672782, -22.525464747), (-11.123622645, -20.272750066))
            ThreePointArc((-11.123622645, -20.272750066), (-10.033127583, -20.834004101), (-8.914408959, -21.336651305))
            ThreePointArc((-8.914408959, -21.336651305), (-9.44298162, -24.286915974), (-9.116483925, -27.266320266))
            ThreePointArc((-9.116483925, -27.266320266), (-8.474211264, -27.472718166), (-7.827272612, -27.663989291))
            ThreePointArc((-7.827272612, -27.663989291), (-5.879149357, -25.386212641), (-4.65393332, -22.650833995))
            ThreePointArc((-4.65393332, -22.650833995), (-3.446453363, -22.865724026), (-2.229278404, -23.016291921))
            ThreePointArc((-2.229278404, -23.016291921), (-1.864762288, -25.991284136), (-0.674575137, -28.742084969))
            ThreePointArc((-0.674575137, -28.742084969), (0, -28.75), (0.674575137, -28.742084969))
            ThreePointArc((0.674575137, -28.742084969), (1.864762288, -25.991284136), (2.229278404, -23.016291921))
            ThreePointArc((2.229278404, -23.016291921), (3.446453363, -22.865724026), (4.65393332, -22.650833995))
            ThreePointArc((4.65393332, -22.650833995), (5.879149357, -25.386212641), (7.827272612, -27.663989291))
            ThreePointArc((7.827272612, -27.663989291), (8.474211264, -27.472718166), (9.116483925, -27.266320266))
            ThreePointArc((9.116483925, -27.266320266), (9.44298162, -24.286915974), (8.914408959, -21.336651305))
            ThreePointArc((8.914408959, -21.336651305), (10.033127583, -20.834004101), (11.123622645, -20.272750066))
            ThreePointArc((11.123622645, -20.272750066), (13.100672782, -22.525464747), (15.633632839, -24.127826762))
        make_face()
    extrude(amount=-CUT_EXTRUDE_3_DEPTH, mode=Mode.SUBTRACT)


solid = part.part
